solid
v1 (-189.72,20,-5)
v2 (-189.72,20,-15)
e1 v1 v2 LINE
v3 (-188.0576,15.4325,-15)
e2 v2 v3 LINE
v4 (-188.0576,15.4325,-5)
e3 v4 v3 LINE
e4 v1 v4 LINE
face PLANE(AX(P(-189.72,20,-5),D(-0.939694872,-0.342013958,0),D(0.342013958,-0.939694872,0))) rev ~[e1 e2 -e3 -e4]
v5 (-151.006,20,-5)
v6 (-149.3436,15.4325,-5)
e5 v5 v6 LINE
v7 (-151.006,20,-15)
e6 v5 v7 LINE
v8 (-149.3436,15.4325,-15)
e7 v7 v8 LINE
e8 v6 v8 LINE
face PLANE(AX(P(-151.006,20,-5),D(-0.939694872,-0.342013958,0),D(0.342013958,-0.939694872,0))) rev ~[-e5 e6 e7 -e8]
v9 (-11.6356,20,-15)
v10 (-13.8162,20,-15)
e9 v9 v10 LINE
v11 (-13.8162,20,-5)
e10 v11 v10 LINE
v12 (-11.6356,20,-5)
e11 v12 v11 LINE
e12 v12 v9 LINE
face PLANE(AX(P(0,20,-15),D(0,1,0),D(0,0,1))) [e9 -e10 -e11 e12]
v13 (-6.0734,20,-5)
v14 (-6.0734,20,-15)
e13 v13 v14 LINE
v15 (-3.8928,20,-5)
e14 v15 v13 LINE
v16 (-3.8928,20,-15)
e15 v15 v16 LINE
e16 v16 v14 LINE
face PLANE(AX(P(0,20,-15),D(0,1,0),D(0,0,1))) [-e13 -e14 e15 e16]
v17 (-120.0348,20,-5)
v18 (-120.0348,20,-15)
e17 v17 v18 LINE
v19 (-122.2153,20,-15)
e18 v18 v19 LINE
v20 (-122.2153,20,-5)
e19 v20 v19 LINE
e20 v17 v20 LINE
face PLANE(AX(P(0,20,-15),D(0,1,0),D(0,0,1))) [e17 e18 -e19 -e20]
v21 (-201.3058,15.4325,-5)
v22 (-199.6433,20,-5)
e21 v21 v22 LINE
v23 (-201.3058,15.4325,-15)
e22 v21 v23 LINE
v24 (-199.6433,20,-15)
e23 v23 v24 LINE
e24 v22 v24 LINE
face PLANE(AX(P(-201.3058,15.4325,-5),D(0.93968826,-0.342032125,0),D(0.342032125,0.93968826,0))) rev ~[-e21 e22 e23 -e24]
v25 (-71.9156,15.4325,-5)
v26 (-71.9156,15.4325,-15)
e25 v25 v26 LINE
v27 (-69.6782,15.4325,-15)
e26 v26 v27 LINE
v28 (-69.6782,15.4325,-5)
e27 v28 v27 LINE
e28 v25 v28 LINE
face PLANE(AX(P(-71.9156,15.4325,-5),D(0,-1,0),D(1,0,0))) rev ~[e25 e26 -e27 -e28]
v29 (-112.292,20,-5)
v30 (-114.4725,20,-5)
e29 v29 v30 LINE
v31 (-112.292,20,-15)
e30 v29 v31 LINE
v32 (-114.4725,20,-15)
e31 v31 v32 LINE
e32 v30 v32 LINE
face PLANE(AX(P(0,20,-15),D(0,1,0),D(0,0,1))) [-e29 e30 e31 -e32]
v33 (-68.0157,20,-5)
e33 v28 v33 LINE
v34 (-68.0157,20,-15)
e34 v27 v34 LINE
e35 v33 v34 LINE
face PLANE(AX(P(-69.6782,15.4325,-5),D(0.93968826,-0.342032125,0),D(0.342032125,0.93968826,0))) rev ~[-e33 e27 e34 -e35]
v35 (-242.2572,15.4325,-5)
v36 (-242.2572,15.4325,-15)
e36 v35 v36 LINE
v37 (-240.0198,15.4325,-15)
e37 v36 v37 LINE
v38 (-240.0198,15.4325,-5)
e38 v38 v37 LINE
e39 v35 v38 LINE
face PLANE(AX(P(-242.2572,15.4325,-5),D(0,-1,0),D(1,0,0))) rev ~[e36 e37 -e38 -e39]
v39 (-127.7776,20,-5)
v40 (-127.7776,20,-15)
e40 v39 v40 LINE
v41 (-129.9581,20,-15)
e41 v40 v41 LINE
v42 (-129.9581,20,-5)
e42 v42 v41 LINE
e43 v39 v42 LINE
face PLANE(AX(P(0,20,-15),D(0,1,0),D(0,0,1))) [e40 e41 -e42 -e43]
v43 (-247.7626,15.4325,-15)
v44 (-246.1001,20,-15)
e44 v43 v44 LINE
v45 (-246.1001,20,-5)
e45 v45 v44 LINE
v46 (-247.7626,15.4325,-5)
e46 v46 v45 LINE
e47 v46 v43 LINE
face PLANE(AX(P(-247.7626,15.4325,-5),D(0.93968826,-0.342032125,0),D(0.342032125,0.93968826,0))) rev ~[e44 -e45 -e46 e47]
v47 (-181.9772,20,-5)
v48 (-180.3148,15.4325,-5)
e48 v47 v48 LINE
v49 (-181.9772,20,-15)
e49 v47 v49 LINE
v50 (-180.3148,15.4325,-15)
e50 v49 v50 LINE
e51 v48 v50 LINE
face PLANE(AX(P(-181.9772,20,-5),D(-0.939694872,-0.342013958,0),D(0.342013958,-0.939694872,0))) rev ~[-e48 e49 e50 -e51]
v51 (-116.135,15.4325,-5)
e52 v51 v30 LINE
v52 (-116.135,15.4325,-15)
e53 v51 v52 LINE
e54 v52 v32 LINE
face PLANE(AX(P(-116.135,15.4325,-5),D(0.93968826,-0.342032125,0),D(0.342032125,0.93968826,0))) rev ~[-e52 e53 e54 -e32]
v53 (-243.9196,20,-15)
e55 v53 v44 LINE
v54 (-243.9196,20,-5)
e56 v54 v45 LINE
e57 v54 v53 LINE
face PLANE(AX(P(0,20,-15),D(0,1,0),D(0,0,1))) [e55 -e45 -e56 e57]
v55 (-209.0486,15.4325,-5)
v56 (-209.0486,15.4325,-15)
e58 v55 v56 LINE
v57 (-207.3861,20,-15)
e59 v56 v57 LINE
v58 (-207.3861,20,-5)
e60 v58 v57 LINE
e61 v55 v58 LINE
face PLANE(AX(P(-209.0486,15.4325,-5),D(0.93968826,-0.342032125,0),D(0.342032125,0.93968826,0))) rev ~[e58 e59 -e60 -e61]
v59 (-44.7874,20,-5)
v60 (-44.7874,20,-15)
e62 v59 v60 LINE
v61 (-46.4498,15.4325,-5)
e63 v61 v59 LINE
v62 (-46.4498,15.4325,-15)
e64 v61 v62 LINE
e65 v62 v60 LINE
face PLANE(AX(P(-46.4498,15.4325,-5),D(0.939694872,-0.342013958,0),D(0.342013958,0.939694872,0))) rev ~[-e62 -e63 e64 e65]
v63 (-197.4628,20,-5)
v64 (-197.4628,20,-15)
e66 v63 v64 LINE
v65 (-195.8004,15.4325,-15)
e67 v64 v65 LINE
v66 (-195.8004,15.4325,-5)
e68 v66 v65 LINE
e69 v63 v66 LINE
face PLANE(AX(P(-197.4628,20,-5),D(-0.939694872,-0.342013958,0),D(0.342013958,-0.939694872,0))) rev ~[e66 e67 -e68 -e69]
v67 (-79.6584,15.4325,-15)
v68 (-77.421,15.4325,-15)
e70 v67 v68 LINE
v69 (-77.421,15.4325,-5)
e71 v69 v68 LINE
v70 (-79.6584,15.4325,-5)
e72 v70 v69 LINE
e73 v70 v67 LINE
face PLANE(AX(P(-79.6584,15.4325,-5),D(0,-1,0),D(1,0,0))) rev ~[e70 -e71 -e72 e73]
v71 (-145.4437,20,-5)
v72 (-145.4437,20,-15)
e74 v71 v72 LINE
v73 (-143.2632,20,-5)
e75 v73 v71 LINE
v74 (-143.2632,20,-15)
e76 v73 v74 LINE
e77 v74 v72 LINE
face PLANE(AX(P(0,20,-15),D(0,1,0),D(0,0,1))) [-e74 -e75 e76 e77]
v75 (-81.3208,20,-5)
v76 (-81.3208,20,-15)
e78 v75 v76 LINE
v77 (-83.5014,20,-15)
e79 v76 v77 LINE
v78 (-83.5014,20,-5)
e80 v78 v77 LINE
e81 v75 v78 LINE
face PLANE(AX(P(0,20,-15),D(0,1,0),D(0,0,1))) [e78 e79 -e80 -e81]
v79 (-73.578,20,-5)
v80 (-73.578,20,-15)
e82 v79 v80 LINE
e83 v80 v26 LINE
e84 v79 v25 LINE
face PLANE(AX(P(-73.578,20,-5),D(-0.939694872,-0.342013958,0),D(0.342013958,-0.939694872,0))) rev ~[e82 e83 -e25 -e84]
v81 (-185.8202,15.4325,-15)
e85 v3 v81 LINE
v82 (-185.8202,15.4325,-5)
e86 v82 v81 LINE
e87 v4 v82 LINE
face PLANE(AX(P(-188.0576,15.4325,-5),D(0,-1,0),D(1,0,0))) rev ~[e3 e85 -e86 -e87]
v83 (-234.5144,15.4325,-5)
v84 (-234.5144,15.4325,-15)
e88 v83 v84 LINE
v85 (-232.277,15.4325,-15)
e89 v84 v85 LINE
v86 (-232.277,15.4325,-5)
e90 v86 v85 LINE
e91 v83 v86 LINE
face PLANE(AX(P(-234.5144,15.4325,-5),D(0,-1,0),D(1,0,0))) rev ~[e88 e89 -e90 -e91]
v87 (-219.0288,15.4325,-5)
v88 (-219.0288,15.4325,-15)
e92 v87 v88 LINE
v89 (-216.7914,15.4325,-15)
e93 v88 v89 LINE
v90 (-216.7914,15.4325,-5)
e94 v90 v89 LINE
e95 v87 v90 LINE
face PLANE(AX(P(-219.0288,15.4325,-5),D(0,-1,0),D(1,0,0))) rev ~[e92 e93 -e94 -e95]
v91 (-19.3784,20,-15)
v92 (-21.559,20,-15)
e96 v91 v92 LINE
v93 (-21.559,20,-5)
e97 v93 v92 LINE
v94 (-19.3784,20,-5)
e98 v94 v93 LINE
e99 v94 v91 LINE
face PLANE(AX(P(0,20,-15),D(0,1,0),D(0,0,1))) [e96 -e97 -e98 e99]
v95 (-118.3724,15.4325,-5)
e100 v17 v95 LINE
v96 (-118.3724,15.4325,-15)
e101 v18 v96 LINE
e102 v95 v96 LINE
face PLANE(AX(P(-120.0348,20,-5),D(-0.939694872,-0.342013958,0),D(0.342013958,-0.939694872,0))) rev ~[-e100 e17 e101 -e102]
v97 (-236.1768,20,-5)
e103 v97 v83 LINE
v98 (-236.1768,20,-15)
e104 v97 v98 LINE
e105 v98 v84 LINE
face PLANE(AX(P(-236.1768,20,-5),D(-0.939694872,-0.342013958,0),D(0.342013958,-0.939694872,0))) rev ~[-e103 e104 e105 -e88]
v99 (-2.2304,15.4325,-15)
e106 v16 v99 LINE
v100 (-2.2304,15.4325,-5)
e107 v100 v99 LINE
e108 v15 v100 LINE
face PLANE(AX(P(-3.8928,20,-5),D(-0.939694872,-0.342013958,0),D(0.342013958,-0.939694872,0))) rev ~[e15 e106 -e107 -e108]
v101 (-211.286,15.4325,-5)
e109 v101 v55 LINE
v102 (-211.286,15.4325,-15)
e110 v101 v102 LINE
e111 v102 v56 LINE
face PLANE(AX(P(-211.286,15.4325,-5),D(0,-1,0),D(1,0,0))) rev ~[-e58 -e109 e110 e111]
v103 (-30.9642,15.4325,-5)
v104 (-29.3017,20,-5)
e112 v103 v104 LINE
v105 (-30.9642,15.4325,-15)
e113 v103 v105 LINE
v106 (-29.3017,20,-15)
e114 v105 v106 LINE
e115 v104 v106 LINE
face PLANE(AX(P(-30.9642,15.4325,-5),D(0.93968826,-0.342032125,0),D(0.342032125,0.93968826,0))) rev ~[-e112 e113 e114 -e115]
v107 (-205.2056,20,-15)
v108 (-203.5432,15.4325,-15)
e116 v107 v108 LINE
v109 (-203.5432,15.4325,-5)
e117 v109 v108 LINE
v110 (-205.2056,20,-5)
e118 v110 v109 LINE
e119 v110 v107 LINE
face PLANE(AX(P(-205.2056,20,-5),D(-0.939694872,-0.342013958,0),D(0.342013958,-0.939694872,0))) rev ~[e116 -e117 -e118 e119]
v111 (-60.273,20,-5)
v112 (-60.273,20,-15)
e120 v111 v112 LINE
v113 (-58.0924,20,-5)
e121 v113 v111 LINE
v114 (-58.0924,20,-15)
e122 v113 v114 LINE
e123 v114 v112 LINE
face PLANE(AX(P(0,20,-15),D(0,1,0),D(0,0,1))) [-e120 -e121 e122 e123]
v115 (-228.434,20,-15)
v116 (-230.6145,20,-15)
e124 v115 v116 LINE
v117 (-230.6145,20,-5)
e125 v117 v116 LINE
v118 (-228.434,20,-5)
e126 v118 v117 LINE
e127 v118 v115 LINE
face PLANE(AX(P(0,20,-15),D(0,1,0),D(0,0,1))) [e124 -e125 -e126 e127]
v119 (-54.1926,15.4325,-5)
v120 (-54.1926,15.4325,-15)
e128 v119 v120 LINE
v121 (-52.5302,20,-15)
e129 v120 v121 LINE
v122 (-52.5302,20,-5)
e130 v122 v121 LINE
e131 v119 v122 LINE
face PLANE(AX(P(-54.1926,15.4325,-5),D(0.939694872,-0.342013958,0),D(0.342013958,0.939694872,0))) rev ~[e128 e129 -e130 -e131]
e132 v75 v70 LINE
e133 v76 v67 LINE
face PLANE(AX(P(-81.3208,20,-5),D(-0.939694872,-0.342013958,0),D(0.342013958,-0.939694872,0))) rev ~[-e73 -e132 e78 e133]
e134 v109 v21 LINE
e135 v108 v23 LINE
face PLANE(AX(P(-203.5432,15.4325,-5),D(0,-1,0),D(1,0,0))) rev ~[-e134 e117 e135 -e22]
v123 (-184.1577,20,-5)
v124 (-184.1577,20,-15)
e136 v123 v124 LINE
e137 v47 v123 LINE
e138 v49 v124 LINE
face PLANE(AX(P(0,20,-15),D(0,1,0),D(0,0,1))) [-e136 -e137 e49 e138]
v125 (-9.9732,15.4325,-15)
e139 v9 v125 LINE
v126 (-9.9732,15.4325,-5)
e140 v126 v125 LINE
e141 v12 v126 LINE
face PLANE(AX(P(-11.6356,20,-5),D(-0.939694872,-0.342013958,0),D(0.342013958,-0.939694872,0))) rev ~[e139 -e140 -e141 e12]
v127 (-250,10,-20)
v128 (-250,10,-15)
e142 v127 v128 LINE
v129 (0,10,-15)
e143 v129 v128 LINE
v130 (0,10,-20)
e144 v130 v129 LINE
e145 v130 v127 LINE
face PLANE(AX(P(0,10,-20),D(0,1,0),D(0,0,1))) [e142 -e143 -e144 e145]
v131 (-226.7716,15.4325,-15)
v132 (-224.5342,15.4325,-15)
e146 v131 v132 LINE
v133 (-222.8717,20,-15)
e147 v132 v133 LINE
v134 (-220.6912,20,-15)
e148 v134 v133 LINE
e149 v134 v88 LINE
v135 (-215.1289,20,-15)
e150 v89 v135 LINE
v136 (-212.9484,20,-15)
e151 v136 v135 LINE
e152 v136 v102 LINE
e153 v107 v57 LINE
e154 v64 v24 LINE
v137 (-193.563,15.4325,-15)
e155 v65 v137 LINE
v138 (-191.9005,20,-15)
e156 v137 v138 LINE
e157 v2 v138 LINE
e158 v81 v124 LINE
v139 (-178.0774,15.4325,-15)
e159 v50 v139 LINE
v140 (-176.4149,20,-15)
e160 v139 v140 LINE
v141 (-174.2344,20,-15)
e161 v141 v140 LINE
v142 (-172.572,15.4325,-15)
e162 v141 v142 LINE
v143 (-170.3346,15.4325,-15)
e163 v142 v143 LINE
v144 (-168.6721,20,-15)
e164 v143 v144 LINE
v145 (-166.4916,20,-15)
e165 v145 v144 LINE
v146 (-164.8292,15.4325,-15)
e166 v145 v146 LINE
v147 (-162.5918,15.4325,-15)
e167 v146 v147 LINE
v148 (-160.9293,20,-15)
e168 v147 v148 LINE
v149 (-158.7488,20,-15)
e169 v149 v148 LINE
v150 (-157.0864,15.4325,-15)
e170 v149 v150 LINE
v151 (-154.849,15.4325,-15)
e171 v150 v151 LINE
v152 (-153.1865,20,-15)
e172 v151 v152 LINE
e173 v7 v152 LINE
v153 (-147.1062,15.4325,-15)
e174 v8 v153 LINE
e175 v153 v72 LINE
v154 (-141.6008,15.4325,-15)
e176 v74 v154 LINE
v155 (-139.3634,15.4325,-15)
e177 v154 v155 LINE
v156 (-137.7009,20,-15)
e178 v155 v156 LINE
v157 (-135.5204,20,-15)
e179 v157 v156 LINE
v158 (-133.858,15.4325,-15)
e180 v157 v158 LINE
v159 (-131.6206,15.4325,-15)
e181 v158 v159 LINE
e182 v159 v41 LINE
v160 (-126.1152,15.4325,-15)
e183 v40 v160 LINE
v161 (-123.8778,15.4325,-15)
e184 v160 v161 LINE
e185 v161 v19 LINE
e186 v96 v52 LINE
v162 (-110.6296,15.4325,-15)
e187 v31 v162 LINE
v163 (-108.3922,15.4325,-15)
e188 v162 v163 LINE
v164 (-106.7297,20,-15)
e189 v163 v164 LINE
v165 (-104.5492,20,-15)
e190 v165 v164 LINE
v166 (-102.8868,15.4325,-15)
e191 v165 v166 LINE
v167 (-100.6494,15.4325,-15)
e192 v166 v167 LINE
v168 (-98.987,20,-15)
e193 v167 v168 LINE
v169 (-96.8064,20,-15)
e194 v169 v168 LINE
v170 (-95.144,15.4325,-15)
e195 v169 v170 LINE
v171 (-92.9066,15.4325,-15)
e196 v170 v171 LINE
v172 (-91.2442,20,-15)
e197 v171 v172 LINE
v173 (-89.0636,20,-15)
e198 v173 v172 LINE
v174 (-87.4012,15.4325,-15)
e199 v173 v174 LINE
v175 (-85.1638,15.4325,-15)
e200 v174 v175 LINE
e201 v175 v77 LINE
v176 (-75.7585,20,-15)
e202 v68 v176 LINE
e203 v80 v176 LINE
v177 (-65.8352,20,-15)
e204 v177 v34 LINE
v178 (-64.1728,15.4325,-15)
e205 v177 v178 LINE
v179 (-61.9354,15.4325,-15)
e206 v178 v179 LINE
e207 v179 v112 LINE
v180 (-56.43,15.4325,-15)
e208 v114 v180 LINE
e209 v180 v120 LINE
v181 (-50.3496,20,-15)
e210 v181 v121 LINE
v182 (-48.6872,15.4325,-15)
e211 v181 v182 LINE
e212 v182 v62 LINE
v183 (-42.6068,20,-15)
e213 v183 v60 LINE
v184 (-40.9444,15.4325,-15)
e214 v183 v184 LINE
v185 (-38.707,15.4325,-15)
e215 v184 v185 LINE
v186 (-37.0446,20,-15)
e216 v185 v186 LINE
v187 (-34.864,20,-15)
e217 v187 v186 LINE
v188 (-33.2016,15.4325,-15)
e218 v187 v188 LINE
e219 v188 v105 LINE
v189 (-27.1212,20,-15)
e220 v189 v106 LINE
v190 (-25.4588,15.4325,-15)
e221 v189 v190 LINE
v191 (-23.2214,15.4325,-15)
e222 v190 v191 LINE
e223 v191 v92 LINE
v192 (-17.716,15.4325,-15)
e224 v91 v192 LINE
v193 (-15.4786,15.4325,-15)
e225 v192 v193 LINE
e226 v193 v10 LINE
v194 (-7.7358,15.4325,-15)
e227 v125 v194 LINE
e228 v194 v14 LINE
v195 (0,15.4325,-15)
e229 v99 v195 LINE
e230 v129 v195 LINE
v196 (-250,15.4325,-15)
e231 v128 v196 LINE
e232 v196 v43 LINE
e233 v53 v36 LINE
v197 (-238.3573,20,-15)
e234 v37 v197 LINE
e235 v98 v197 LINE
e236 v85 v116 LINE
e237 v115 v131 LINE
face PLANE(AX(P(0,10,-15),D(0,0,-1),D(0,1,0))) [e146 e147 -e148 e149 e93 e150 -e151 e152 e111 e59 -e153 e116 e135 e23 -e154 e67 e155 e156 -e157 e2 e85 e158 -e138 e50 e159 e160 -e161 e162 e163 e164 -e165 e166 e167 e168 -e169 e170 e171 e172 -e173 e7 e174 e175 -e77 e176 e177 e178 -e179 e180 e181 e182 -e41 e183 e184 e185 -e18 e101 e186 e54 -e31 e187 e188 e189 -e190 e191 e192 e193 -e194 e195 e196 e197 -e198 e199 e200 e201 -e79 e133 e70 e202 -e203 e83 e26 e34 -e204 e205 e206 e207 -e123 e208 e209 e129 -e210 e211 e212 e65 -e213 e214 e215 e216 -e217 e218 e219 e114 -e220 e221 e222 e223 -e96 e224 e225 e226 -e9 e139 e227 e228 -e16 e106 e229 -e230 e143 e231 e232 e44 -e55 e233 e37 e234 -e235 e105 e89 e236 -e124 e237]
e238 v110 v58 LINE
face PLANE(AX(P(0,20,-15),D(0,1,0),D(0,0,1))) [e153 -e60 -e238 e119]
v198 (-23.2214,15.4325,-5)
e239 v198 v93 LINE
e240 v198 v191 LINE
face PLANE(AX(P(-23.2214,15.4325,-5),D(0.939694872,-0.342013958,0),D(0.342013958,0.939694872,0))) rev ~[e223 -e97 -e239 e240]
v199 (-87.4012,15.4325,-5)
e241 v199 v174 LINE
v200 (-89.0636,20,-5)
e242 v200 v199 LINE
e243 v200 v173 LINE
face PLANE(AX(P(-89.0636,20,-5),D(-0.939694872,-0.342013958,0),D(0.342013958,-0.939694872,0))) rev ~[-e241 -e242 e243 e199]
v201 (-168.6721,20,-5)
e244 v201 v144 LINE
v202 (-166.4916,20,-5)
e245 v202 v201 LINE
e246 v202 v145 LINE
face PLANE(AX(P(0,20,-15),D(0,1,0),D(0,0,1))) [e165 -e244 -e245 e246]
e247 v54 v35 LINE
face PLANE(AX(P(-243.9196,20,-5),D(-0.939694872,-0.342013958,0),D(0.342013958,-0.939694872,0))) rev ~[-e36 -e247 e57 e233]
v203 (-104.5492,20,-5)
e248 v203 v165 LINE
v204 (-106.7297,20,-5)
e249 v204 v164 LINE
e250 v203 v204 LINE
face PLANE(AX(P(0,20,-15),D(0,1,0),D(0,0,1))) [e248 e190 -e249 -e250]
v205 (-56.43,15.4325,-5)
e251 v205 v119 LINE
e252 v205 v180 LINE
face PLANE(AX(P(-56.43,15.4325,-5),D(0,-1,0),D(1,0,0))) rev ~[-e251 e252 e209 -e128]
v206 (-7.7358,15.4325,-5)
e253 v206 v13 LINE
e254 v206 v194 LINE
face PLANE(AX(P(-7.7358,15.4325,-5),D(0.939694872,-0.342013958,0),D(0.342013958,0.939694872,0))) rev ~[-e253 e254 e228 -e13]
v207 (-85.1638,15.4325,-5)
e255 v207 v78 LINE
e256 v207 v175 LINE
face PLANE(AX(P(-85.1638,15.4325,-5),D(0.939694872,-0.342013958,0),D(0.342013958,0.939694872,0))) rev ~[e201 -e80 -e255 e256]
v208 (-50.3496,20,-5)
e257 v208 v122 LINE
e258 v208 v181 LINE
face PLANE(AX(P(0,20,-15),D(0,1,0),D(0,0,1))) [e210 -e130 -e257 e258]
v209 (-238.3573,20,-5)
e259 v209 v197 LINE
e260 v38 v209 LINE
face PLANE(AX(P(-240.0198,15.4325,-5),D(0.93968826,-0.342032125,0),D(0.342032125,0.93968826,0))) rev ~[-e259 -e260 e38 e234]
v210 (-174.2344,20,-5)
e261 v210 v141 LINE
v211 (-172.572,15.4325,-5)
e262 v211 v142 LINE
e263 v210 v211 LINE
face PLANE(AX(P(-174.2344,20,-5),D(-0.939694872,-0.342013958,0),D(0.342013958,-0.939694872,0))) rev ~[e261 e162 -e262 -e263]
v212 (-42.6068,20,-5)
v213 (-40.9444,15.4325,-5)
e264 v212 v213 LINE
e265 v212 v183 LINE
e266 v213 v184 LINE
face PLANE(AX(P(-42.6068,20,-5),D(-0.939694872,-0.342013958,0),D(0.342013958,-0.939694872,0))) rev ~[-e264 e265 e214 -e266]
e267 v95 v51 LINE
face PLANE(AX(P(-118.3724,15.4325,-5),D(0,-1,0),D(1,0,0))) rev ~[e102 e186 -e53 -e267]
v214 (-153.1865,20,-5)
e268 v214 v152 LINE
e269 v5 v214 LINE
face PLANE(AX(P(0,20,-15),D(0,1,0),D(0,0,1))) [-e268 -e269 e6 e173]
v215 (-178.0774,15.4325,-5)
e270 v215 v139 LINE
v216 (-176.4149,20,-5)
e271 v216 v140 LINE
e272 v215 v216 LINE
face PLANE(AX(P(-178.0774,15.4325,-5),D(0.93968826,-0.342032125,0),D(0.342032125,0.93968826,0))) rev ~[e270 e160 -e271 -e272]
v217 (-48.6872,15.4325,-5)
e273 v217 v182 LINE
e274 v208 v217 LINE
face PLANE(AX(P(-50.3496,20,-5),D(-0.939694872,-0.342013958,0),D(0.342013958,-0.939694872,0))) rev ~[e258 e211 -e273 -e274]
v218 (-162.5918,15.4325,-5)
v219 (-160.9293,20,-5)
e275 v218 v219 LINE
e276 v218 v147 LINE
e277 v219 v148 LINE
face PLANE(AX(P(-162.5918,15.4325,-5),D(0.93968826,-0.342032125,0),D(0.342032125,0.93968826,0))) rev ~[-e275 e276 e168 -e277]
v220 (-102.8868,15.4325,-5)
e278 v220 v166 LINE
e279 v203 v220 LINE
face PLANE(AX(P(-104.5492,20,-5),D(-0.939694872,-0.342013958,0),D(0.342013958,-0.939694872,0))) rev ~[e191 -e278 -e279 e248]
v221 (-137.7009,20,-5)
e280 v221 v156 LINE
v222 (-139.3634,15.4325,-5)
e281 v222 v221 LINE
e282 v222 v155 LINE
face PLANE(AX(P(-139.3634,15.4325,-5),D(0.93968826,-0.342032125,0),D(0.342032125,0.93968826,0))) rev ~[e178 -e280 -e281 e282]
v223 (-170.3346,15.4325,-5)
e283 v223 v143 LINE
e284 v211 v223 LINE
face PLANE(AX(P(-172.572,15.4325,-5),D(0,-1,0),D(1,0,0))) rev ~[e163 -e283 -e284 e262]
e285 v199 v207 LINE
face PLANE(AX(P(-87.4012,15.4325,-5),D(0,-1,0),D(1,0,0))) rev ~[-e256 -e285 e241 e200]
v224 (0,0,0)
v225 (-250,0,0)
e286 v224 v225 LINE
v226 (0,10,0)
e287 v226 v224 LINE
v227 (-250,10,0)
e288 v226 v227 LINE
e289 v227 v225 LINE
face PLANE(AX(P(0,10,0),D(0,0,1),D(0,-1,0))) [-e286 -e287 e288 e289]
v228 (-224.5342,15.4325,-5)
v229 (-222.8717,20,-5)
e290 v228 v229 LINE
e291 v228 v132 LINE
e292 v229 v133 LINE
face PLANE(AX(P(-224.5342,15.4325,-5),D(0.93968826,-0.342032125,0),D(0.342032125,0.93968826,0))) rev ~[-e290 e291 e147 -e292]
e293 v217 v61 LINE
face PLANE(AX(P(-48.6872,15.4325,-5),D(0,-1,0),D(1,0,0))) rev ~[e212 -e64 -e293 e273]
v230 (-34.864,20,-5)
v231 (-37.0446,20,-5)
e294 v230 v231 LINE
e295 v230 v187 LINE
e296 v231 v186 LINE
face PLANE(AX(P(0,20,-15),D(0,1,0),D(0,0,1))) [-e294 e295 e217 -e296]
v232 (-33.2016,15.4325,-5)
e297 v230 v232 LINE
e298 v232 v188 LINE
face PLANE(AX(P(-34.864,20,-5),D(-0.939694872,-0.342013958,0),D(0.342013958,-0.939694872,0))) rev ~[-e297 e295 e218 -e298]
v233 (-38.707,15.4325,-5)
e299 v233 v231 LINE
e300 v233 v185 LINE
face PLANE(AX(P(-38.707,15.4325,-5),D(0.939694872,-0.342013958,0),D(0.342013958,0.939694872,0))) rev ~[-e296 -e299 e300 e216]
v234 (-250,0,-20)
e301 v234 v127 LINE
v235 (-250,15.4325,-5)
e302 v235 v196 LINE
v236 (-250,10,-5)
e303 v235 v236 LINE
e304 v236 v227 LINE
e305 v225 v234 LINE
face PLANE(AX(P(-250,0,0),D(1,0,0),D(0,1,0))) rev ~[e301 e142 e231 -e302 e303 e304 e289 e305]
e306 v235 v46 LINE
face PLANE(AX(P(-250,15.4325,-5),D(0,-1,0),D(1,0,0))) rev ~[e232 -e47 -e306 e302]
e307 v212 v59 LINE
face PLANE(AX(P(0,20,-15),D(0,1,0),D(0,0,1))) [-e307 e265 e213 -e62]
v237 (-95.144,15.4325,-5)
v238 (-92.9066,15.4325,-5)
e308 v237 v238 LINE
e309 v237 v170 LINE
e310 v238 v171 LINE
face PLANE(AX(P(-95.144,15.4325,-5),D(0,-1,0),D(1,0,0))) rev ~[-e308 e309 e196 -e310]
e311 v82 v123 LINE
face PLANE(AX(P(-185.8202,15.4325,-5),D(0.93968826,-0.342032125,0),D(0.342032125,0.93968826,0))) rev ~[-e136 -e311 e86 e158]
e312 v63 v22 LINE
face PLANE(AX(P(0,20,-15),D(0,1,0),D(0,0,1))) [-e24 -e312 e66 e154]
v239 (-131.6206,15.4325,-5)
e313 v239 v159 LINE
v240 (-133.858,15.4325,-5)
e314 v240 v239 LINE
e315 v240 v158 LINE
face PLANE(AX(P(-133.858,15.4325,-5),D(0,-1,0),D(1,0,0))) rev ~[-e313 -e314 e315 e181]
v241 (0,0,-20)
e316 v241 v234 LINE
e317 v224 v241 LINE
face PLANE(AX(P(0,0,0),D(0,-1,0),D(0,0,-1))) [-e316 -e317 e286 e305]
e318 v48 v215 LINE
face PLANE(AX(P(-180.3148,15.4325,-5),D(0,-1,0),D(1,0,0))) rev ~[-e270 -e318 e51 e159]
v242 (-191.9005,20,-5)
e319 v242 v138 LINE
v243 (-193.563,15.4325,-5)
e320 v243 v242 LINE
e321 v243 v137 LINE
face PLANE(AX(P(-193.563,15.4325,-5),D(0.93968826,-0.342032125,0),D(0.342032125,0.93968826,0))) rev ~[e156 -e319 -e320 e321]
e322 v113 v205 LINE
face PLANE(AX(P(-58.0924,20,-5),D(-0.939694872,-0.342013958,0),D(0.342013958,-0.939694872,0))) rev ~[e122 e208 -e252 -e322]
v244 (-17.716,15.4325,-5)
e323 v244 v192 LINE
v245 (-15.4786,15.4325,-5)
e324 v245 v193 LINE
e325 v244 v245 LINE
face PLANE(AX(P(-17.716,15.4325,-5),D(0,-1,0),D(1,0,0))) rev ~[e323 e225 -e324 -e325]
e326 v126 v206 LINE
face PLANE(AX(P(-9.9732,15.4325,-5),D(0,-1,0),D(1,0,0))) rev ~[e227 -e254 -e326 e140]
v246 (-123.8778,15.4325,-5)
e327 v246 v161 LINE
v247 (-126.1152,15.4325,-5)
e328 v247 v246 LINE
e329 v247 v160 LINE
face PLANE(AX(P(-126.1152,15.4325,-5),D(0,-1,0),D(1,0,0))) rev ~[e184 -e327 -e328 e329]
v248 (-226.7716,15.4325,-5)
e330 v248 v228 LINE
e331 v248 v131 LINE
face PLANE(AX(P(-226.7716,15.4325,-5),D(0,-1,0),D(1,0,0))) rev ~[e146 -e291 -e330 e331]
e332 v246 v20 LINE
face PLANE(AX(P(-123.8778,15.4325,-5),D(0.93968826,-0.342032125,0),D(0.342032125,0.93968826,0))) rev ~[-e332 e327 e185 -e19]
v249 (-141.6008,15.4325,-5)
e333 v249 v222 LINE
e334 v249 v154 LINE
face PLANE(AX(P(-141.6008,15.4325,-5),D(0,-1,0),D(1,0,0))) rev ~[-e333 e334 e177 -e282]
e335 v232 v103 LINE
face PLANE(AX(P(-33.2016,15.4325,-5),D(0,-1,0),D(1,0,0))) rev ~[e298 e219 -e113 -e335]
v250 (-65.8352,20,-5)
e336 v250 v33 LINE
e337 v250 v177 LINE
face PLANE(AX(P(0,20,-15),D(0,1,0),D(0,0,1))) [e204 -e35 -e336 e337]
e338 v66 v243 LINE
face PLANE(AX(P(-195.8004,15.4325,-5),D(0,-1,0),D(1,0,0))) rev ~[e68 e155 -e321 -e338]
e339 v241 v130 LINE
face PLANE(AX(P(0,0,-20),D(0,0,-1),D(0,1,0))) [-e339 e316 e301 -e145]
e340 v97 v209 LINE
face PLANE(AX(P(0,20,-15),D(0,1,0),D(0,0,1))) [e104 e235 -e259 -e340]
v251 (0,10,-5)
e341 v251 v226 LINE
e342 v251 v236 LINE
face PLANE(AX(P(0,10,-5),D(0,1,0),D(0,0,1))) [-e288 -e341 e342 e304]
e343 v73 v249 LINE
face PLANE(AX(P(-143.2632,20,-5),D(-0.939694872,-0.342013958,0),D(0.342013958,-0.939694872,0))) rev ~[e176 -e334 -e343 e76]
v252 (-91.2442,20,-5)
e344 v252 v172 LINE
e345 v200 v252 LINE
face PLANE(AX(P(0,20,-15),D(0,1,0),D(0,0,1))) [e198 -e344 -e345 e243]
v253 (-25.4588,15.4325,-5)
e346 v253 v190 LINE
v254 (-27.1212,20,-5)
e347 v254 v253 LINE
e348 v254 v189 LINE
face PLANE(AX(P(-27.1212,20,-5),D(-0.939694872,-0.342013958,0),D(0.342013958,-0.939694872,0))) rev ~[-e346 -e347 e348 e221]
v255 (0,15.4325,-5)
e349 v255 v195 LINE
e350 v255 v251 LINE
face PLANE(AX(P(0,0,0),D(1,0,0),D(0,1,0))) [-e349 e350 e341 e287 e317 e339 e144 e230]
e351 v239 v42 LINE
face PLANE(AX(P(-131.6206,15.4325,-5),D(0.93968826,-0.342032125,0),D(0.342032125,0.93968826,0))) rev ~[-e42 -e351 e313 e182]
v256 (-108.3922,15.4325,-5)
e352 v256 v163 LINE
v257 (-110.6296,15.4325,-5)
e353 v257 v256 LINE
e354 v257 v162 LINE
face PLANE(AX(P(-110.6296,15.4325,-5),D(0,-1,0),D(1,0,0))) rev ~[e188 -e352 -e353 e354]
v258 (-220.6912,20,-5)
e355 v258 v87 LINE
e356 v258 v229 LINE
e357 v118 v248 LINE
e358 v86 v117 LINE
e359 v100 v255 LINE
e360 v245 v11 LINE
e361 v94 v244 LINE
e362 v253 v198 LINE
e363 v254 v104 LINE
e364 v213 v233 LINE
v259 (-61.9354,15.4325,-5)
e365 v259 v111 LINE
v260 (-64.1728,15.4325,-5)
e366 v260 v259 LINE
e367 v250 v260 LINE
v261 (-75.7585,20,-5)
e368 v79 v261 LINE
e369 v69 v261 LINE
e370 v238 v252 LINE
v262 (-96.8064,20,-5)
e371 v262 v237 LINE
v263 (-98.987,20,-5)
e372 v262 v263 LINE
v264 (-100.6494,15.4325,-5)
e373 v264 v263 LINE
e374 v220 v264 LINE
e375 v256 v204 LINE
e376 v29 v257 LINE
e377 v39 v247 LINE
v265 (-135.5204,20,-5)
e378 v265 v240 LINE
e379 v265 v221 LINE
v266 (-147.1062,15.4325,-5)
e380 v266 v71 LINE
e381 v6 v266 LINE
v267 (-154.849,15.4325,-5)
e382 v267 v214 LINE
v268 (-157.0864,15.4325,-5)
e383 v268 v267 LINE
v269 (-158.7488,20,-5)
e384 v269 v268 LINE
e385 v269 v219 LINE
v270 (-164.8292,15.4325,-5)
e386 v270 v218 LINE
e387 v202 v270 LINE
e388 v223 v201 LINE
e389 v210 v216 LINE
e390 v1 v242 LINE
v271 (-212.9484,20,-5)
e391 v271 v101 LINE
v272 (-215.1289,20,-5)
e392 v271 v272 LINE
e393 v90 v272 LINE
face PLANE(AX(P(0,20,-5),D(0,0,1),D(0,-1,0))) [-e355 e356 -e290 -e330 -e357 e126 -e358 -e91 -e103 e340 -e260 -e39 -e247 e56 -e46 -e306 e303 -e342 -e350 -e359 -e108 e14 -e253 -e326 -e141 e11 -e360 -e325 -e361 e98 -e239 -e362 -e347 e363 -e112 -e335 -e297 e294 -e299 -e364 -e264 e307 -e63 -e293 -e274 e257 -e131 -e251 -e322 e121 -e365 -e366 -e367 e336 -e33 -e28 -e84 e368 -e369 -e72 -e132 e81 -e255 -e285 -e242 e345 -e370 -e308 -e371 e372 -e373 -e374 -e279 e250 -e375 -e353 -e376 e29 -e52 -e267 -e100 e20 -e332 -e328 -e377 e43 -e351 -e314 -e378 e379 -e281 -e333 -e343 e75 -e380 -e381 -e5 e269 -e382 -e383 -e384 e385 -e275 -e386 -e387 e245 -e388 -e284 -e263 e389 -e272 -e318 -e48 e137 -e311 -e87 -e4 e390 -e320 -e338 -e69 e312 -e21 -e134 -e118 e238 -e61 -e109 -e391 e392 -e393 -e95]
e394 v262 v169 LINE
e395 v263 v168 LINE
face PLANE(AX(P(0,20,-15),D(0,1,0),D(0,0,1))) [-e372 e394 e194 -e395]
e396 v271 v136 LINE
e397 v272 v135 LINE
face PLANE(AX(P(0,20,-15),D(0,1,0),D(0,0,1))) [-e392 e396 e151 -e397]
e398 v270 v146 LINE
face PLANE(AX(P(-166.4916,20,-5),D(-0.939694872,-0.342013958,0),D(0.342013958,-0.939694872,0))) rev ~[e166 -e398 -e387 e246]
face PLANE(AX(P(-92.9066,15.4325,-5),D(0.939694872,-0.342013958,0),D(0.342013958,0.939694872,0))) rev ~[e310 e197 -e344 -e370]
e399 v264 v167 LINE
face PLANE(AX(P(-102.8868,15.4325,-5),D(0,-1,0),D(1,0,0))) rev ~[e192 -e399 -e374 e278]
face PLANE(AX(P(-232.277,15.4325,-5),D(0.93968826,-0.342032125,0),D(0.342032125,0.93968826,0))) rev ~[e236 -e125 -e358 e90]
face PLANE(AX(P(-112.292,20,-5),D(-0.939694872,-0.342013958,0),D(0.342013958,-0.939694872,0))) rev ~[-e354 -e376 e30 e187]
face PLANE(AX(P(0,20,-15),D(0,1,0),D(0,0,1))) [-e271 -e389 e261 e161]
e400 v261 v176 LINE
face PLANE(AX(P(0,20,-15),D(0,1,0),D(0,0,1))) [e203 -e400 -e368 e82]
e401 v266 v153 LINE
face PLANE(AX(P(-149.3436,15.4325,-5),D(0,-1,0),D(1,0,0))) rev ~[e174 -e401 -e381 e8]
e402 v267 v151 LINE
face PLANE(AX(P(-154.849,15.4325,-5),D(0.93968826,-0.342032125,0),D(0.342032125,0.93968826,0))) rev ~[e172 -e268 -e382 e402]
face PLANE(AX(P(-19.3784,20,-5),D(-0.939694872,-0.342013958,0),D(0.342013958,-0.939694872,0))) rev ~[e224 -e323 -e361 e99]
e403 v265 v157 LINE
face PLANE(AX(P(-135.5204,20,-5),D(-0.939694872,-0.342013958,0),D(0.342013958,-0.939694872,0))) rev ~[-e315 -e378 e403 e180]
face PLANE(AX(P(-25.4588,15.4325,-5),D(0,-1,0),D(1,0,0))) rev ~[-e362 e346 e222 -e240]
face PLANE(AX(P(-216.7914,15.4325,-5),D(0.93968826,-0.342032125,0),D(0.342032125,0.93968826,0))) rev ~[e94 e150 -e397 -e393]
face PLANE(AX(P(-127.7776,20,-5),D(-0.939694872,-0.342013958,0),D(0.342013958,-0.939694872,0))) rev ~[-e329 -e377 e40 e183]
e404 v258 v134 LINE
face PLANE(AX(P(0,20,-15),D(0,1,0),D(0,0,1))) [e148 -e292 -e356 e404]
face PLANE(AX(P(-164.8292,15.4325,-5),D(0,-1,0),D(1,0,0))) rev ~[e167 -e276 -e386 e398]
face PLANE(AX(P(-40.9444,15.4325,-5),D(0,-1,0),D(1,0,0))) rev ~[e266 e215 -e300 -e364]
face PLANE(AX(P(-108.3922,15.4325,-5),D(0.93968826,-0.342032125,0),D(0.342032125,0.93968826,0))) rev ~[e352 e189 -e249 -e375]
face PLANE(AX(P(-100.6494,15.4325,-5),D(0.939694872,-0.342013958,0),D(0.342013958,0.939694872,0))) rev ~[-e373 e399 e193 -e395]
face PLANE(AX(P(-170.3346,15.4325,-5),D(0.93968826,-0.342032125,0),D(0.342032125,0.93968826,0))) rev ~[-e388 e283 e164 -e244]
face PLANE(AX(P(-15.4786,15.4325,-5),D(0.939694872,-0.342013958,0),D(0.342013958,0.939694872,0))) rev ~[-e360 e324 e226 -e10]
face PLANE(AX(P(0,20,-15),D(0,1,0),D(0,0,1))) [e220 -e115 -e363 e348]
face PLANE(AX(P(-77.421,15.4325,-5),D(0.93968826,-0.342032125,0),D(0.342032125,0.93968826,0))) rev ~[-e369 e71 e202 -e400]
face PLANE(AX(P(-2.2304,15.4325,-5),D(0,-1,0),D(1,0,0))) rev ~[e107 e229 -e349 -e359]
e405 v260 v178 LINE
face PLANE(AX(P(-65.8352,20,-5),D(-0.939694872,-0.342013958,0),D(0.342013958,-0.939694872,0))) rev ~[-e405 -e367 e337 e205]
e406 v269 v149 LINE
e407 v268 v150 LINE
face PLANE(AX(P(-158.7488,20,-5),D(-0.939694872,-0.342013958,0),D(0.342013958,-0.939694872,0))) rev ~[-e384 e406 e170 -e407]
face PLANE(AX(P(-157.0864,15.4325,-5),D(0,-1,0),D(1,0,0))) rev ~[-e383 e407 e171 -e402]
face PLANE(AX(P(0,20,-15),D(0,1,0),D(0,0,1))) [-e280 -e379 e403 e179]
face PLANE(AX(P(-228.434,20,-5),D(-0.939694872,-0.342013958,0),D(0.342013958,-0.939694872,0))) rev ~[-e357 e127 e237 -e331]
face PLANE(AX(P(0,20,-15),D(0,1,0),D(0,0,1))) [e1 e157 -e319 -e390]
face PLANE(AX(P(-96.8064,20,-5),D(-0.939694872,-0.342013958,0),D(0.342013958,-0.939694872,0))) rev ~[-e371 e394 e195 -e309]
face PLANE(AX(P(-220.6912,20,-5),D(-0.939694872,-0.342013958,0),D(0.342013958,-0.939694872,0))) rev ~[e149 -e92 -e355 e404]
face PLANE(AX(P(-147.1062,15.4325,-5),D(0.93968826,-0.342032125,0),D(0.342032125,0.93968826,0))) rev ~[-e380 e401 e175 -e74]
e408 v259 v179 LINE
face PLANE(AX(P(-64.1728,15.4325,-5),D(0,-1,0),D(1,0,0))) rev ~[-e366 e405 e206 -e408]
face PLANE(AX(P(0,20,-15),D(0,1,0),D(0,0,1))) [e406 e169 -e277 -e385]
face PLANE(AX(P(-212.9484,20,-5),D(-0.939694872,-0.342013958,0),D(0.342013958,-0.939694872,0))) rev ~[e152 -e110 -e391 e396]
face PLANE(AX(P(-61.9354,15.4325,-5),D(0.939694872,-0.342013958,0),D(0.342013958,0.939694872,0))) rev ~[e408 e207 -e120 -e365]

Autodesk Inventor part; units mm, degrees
ref_plane "YZ Plane" through (0, 0, 0) normal (1, 0, 0) x (0, 1, 0)
ref_plane "XZ Plane" through (0, 0, 0) normal (0, 1, 0) x (-1, 0, 0)
ref_plane "XY Plane" through (0, 0, 0) normal (0, 0, 1) x (1, 0, 0)
sketch "Boceto1" plane through (0, 0, 0) normal (1, 0, 0) x (0, 1, 0)
  point P0 (0, 0)
extrude "Extrusión1" [suppressed]
sketch "Boceto2" plane through (0, 0, 0) normal (0, 0, 1) x (1, 0, 0)
  point P0 (0, 0)
sketch "Boceto3" plane through (0, 10, -5) normal (0, 0, 1) x (1, 0, 0)
  line L0 (227.2104, 2.6715) -> (229.8777, 10)
  line L1 (233.3764, 10) -> (236.0437, 2.6715)
  line L2 (214.787, 2.6715) -> (217.4544, 10)
  line L3 (220.953, 10) -> (223.6204, 2.6715)
  line L4 (202.3637, 2.6715) -> (205.031, 10)
  line L5 (208.5297, 10) -> (211.197, 2.6715)
  line L6 (189.9403, 2.6715) -> (192.6077, 10)
  line L7 (196.1063, 10) -> (198.7737, 2.6715)
  line L8 (177.517, 2.6715) -> (180.1843, 10)
  line L9 (183.683, 10) -> (186.3503, 2.6715)
  line L10 (165.0936, 2.6715) -> (167.761, 10)
  line L11 (171.2596, 10) -> (173.927, 2.6715)
  line L12 (152.6702, 2.6715) -> (155.3376, 10)
  line L13 (158.8362, 10) -> (161.5036, 2.6715)
  line L14 (140.2469, 2.6715) -> (142.9143, 10)
  line L15 (146.4129, 10) -> (149.0803, 2.6715)
  line L16 (127.8235, 2.6715) -> (130.4909, 10)
  line L17 (133.9895, 10) -> (136.6569, 2.6715)
  line L18 (115.4002, 2.6715) -> (118.0675, 10)
  line L19 (121.5662, 10) -> (124.2335, 2.6715)
  line L20 (102.9768, 2.6715) -> (105.6442, 10)
  line L21 (109.1428, 10) -> (111.8102, 2.6715)
  line L22 (90.5535, 2.6715) -> (93.2208, 10)
  line L23 (96.7195, 10) -> (99.3868, 2.6715)
  line L24 (78.1301, 2.6715) -> (80.7975, 10)
  line L25 (84.2961, 10) -> (86.9635, 2.6715)
  line L26 (65.7067, 2.6715) -> (68.3741, 10)
  line L27 (71.8728, 10) -> (74.5401, 2.6715)
  line L28 (53.2834, 2.6715) -> (55.9508, 10)
  line L29 (59.4494, 10) -> (62.1168, 2.6715)
  line L30 (40.86, 2.6715) -> (43.5274, 10)
  line L31 (47.0261, 10) -> (49.6934, 2.6715)
  line L32 (28.4367, 2.6715) -> (31.104, 10)
  line L33 (34.6027, 10) -> (37.2701, 2.6715)
  line L34 (16.0133, 2.6715) -> (18.6807, 10)
  line L35 (22.1793, 10) -> (24.8467, 2.6715)
  line L36 (3.59, 2.6715) -> (6.2573, 10)
  line L37 (9.756, 10) -> (12.4234, 2.6715)
  line L38 (239.6337, 2.6715) -> (242.3011, 10)
  line L39 (245.7997, 10) -> (248.4671, 2.6715)
  line L40 (248.4671, 2.6715) -> (250, 2.6715)
  line L41 (0, 0) -> (250, 0) projected
  line L42 (3.59, 2.6715) -> (0, 2.6715)
  line L43 (0, 0) -> (0, 10) projected
  line L44 (0, 2.6715) -> (0, 10)
  line L45 (0, 10) -> (6.2573, 10)
  line L46 (9.756, 10) -> (18.6807, 10)
  line L47 (12.4234, 2.6715) -> (16.0133, 2.6715)
  line L48 (236.0437, 2.6715) -> (239.6337, 2.6715)
  line L49 (223.6204, 2.6715) -> (227.2104, 2.6715)
  line L50 (211.197, 2.6715) -> (214.787, 2.6715)
  line L51 (198.7737, 2.6715) -> (202.3637, 2.6715)
  line L52 (186.3503, 2.6715) -> (189.9403, 2.6715)
  line L53 (173.927, 2.6715) -> (177.517, 2.6715)
  line L54 (161.5036, 2.6715) -> (165.0936, 2.6715)
  line L55 (149.0803, 2.6715) -> (152.6702, 2.6715)
  line L56 (136.6569, 2.6715) -> (140.2469, 2.6715)
  line L57 (124.2335, 2.6715) -> (127.8235, 2.6715)
  line L58 (111.8102, 2.6715) -> (115.4002, 2.6715)
  line L59 (99.3868, 2.6715) -> (102.9768, 2.6715)
  line L60 (86.9635, 2.6715) -> (90.5535, 2.6715)
  line L61 (74.5401, 2.6715) -> (78.1301, 2.6715)
  line L62 (62.1168, 2.6715) -> (65.7067, 2.6715)
  line L63 (49.6934, 2.6715) -> (53.2834, 2.6715)
  line L64 (24.8467, 2.6715) -> (28.4367, 2.6715)
  line L65 (37.2701, 2.6715) -> (40.86, 2.6715)
  line L66 (245.7997, 10) -> (250, 10)
  line L67 (233.3764, 10) -> (242.3011, 10)
  line L68 (220.953, 10) -> (229.8777, 10)
  line L69 (208.5297, 10) -> (217.4544, 10)
  line L70 (196.1063, 10) -> (205.031, 10)
  line L71 (183.683, 10) -> (192.6077, 10)
  line L72 (171.2596, 10) -> (180.1843, 10)
  line L73 (158.8362, 10) -> (167.761, 10)
  line L74 (146.4129, 10) -> (155.3376, 10)
  line L75 (133.9895, 10) -> (142.9143, 10)
  line L76 (121.5662, 10) -> (130.4909, 10)
  line L77 (109.1428, 10) -> (118.0675, 10)
  line L78 (96.7195, 10) -> (105.6442, 10)
  line L79 (84.2961, 10) -> (93.2208, 10)
  line L80 (59.4494, 10) -> (68.3741, 10)
  line L81 (71.8728, 10) -> (80.7975, 10)
  line L82 (47.0261, 10) -> (55.9508, 10)
  line L83 (34.6027, 10) -> (43.5274, 10)
  line L84 (22.1793, 10) -> (31.104, 10)
  line L85 (0, 10) -> (6.2573, 10)
  line L86 (9.756, 10) -> (18.6807, 10)
  line L87 (250, 10) -> (250, 2.6715)
  line L88 (250, 0) -> (250, 10) projected
  point P0 (0, -10)
extrude "Extrusión2" [suppressed]
sketch "Boceto4" plane through (0, 0, 0) normal (1, 0, 0) x (0, 1, 0)
  point P0 (0, 0)
extrude "Extrusión3" [suppressed]
sketch "Boceto5" plane through (0, 10, -5) normal (0, 0, 1) x (1, 0, 0)
  line L0 (-2.2374, 0.8668) -> (0, 0.865)
  line L1 (-17.723, 0.8787) -> (-13.2482, 0.8752)
  line L2 (-13.2482, 0.8752) -> (-9.9163, 10.0076)
  line L3 (-5.5553, 10.0043) -> (-2.2374, 0.8668)
  line L4 (-33.2086, 0.8905) -> (-28.7337, 0.8871)
  line L5 (-28.7337, 0.8871) -> (-25.4019, 10.0195)
  line L6 (-21.0409, 10.0162) -> (-17.723, 0.8787)
  line L7 (-48.6942, 0.9024) -> (-44.2194, 0.899)
  line L8 (-44.2194, 0.899) -> (-40.8875, 10.0314)
  line L9 (-36.5265, 10.028) -> (-33.2086, 0.8905)
  line L10 (-64.1798, 0.9143) -> (-59.7049, 0.9109)
  line L11 (-59.7049, 0.9109) -> (-56.3731, 10.0433)
  line L12 (-52.0121, 10.0399) -> (-48.6942, 0.9024)
  line L13 (-79.6654, 0.9262) -> (-75.1905, 0.9228)
  line L14 (-75.1905, 0.9228) -> (-71.8587, 10.0552)
  line L15 (-67.4976, 10.0518) -> (-64.1798, 0.9143)
  line L16 (-95.151, 0.9381) -> (-90.6761, 0.9347)
  line L17 (-90.6761, 0.9347) -> (-87.3443, 10.0671)
  line L18 (-82.9832, 10.0637) -> (-79.6654, 0.9262)
  line L19 (-110.6366, 0.95) -> (-106.1617, 0.9466)
  line L20 (-106.1617, 0.9466) -> (-102.8298, 10.0789)
  line L21 (-98.4688, 10.0756) -> (-95.151, 0.9381)
  line L22 (-121.6473, 0.9584) -> (-118.3155, 10.0908)
  line L23 (-113.9544, 10.0875) -> (-110.6366, 0.95)
  line L24 (-141.6008, 0.8651) -> (-137.1259, 0.8651)
  line L25 (-137.1259, 0.8651) -> (-133.8011, 10)
  line L26 (-129.4401, 10) -> (-126.1152, 0.8651)
  line L27 (-157.0864, 0.8651) -> (-152.6115, 0.8651)
  line L28 (-152.6115, 0.8651) -> (-149.2867, 10)
  line L29 (-144.9257, 10) -> (-141.6008, 0.8651)
  line L30 (-172.572, 0.8651) -> (-168.0971, 0.8651)
  line L31 (-168.0971, 0.8651) -> (-164.7723, 10)
  line L32 (-160.4113, 10) -> (-157.0864, 0.8651)
  line L33 (-188.0576, 0.8651) -> (-183.5827, 0.8651)
  line L34 (-183.5827, 0.8651) -> (-180.2579, 10)
  line L35 (-175.8969, 10) -> (-172.572, 0.8651)
  line L36 (-203.5432, 0.8651) -> (-199.0683, 0.8651)
  line L37 (-199.0683, 0.8651) -> (-195.7435, 10)
  line L38 (-191.3825, 10) -> (-188.0576, 0.8651)
  line L39 (-219.0288, 0.8651) -> (-214.5539, 0.8651)
  line L40 (-214.5539, 0.8651) -> (-211.2291, 10)
  line L41 (-206.868, 10) -> (-203.5432, 0.8651)
  line L42 (-234.5144, 0.8651) -> (-230.0395, 0.8651)
  line L43 (-230.0395, 0.8651) -> (-226.7147, 10)
  line L44 (-222.3537, 10) -> (-219.0288, 0.8651)
  line L45 (-250, 0.8651) -> (-245.5251, 0.8651)
  line L46 (-245.5251, 0.8651) -> (-242.2003, 10)
  line L47 (-237.8393, 10) -> (-234.5144, 0.8651)
  line L48 (0, 10) -> (-250, 10) projected
  line L49 (0, 0.865) -> (0, 10)
  line L50 (-250, 10) -> (-250, 0) projected
  line L51 (0, 10) -> (-5.5537, 10)
  line L52 (-9.9191, 10) -> (-21.035, 10)
  line L53 (-25.409, 10) -> (-36.5163, 10)
  line L54 (-40.8989, 10) -> (-51.9976, 10)
  line L55 (-56.3889, 10) -> (-67.4788, 10)
  line L56 (-71.8788, 10) -> (-82.9601, 10)
  line L57 (-87.3687, 10) -> (-98.4414, 10)
  line L58 (-102.8587, 10) -> (-113.9227, 10)
  line L59 (-118.3486, 10) -> (-129.4401, 10)
  line L60 (-133.8011, 10) -> (-144.9257, 10)
  line L61 (-149.2867, 10) -> (-160.4113, 10)
  line L62 (-164.7723, 10) -> (-175.8969, 10)
  line L63 (-180.2579, 10) -> (-191.3825, 10)
  line L64 (-195.7435, 10) -> (-206.868, 10)
  line L65 (-211.2291, 10) -> (-222.3537, 10)
  line L66 (-226.7147, 10) -> (-237.8393, 10)
  line L67 (-242.2003, 10) -> (-250, 10)
  line L68 (-250, 10) -> (-250, 0.8651)
  line L69 (-126.1152, 0.9584) -> (-121.6473, 0.9584)
  line L70 (-126.1265, 0.95) -> (-121.6516, 0.9466)
  line L71 (-121.6516, 0.9466) -> (-118.3198, 10.0789)
  line L72 (-129.4444, 10.0875) -> (-126.1265, 0.95)
  line L73 (-118.3486, 10) -> (-129.4126, 10)
  point P0 (0, -10)
extrude "Extrusión4" [suppressed]
sketch "Boceto6" plane through (-250, 10, -5) normal (0, 0, 1) x (1, 0, 0)
  point P0 (250, -10)
sketch "Boceto7" plane through (0, 0, 0) normal (1, 0, 0) x (0, 1, 0)
  line L0 (0, 0) -> (0, -20)
  line L1 (0, -20) -> (10, -20)
  line L2 (10, -20) -> (10, -15)
  line L3 (10, -15) -> (20, -15)
  line L4 (20, -15) -> (20, -5)
  line L5 (20, -5) -> (10, -5)
  line L6 (10, -5) -> (10, 0)
  line L7 (10, 0) -> (0, 0)
extrude "Extrusión5" add sketch "Boceto7" against normal blind 250
sketch "Boceto8" plane through (0, 10, -5) normal (0, 0, 1) x (1, 0, 0)
  line L0 (-110.6296, 5.4325) -> (-108.3922, 5.4325)
  line L1 (-108.3922, 5.4325) -> (-106.7297, 10)
  line L2 (-104.5492, 10) -> (-102.8868, 5.4325)
  line L3 (-118.3724, 5.4325) -> (-116.135, 5.4325)
  line L4 (-116.135, 5.4325) -> (-114.4725, 10)
  line L5 (-112.292, 10) -> (-110.6296, 5.4325)
  line L6 (-126.1152, 5.4325) -> (-123.8778, 5.4325)
  line L7 (-123.8778, 5.4325) -> (-122.2153, 10)
  line L8 (-120.0348, 10) -> (-118.3724, 5.4325)
  line L9 (-133.858, 5.4325) -> (-131.6206, 5.4325)
  line L10 (-131.6206, 5.4325) -> (-129.9581, 10)
  line L11 (-127.7776, 10) -> (-126.1152, 5.4325)
  line L12 (-141.6008, 5.4325) -> (-139.3634, 5.4325)
  line L13 (-139.3634, 5.4325) -> (-137.7009, 10)
  line L14 (-135.5204, 10) -> (-133.858, 5.4325)
  line L15 (-149.3436, 5.4325) -> (-147.1062, 5.4325)
  line L16 (-147.1062, 5.4325) -> (-145.4437, 10)
  line L17 (-143.2632, 10) -> (-141.6008, 5.4325)
  line L18 (-157.0864, 5.4325) -> (-154.849, 5.4325)
  line L19 (-154.849, 5.4325) -> (-153.1865, 10)
  line L20 (-151.006, 10) -> (-149.3436, 5.4325)
  line L21 (-164.8292, 5.4325) -> (-162.5918, 5.4325)
  line L22 (-162.5918, 5.4325) -> (-160.9293, 10)
  line L23 (-158.7488, 10) -> (-157.0864, 5.4325)
  line L24 (-172.572, 5.4325) -> (-170.3346, 5.4325)
  line L25 (-170.3346, 5.4325) -> (-168.6721, 10)
  line L26 (-166.4916, 10) -> (-164.8292, 5.4325)
  line L27 (-180.3148, 5.4325) -> (-178.0774, 5.4325)
  line L28 (-178.0774, 5.4325) -> (-176.4149, 10)
  line L29 (-174.2344, 10) -> (-172.572, 5.4325)
  line L30 (-188.0576, 5.4325) -> (-185.8202, 5.4325)
  line L31 (-185.8202, 5.4325) -> (-184.1577, 10)
  line L32 (-181.9772, 10) -> (-180.3148, 5.4325)
  line L33 (-195.8004, 5.4325) -> (-193.563, 5.4325)
  line L34 (-193.563, 5.4325) -> (-191.9005, 10)
  line L35 (-189.72, 10) -> (-188.0576, 5.4325)
  line L36 (-203.5432, 5.4325) -> (-201.3058, 5.4325)
  line L37 (-201.3058, 5.4325) -> (-199.6433, 10)
  line L38 (-197.4628, 10) -> (-195.8004, 5.4325)
  line L39 (-211.286, 5.4325) -> (-209.0486, 5.4325)
  line L40 (-209.0486, 5.4325) -> (-207.3861, 10)
  line L41 (-205.2056, 10) -> (-203.5432, 5.4325)
  line L42 (-219.0288, 5.4325) -> (-216.7914, 5.4325)
  line L43 (-216.7914, 5.4325) -> (-215.1289, 10)
  line L44 (-212.9484, 10) -> (-211.286, 5.4325)
  line L45 (-226.7716, 5.4325) -> (-224.5342, 5.4325)
  line L46 (-224.5342, 5.4325) -> (-222.8717, 10)
  line L47 (-220.6912, 10) -> (-219.0288, 5.4325)
  line L48 (-234.5144, 5.4325) -> (-232.277, 5.4325)
  line L49 (-232.277, 5.4325) -> (-230.6145, 10)
  line L50 (-228.434, 10) -> (-226.7716, 5.4325)
  line L51 (-242.2572, 5.4325) -> (-240.0198, 5.4325)
  line L52 (-240.0198, 5.4325) -> (-238.3573, 10)
  line L53 (-236.1768, 10) -> (-234.5144, 5.4325)
  line L54 (-250, 5.4325) -> (-247.7626, 5.4325)
  line L55 (-247.7626, 5.4325) -> (-246.1001, 10)
  line L56 (-243.9196, 10) -> (-242.2572, 5.4325)
  line L57 (-250, 5.4325) -> (-250, 10)
  line L58 (-250, -10) -> (-250, 0) projected
  line L59 (-2.2304, 5.4325) -> (0, 5.4325)
  line L60 (-9.9732, 5.4325) -> (-7.7358, 5.4325)
  line L61 (-7.7358, 5.4325) -> (-6.0734, 10)
  line L62 (-3.8928, 10) -> (-2.2304, 5.4325)
  line L63 (-17.716, 5.4325) -> (-15.4786, 5.4325)
  line L64 (-15.4786, 5.4325) -> (-13.8162, 10)
  line L65 (-11.6356, 10) -> (-9.9732, 5.4325)
  line L66 (-25.4588, 5.4325) -> (-23.2214, 5.4325)
  line L67 (-23.2214, 5.4325) -> (-21.559, 10)
  line L68 (-19.3784, 10) -> (-17.716, 5.4325)
  line L69 (-33.2016, 5.4325) -> (-30.9642, 5.4325)
  line L70 (-30.9642, 5.4325) -> (-29.3017, 10)
  line L71 (-27.1212, 10) -> (-25.4588, 5.4325)
  line L72 (-40.9444, 5.4325) -> (-38.707, 5.4325)
  line L73 (-38.707, 5.4325) -> (-37.0446, 10)
  line L74 (-34.864, 10) -> (-33.2016, 5.4325)
  line L75 (-48.6872, 5.4325) -> (-46.4498, 5.4325)
  line L76 (-46.4498, 5.4325) -> (-44.7874, 10)
  line L77 (-42.6068, 10) -> (-40.9444, 5.4325)
  line L78 (-56.43, 5.4325) -> (-54.1926, 5.4325)
  line L79 (-54.1926, 5.4325) -> (-52.5302, 10)
  line L80 (-50.3496, 10) -> (-48.6872, 5.4325)
  line L81 (-64.1728, 5.4325) -> (-61.9354, 5.4325)
  line L82 (-61.9354, 5.4325) -> (-60.273, 10)
  line L83 (-58.0924, 10) -> (-56.43, 5.4325)
  line L84 (-71.9156, 5.4325) -> (-69.6782, 5.4325)
  line L85 (-69.6782, 5.4325) -> (-68.0157, 10)
  line L86 (-65.8352, 10) -> (-64.1728, 5.4325)
  line L87 (-79.6584, 5.4325) -> (-77.421, 5.4325)
  line L88 (-77.421, 5.4325) -> (-75.7585, 10)
  line L89 (-73.578, 10) -> (-71.9156, 5.4325)
  line L90 (-87.4012, 5.4325) -> (-85.1638, 5.4325)
  line L91 (-85.1638, 5.4325) -> (-83.5014, 10)
  line L92 (-81.3208, 10) -> (-79.6584, 5.4325)
  line L93 (-95.144, 5.4325) -> (-92.9066, 5.4325)
  line L94 (-92.9066, 5.4325) -> (-91.2442, 10)
  line L95 (-89.0636, 10) -> (-87.4012, 5.4325)
  line L96 (-102.8868, 5.4325) -> (-100.6494, 5.4325)
  line L97 (-100.6494, 5.4325) -> (-98.987, 10)
  line L98 (-96.8064, 10) -> (-95.144, 5.4325)
  line L99 (-3.8928, 10) -> (0.007, 10)
  line L100 (-11.6356, 10) -> (-6.0734, 10)
  line L101 (-19.3784, 10) -> (-13.8162, 10)
  line L102 (-27.1212, 10) -> (-21.559, 10)
  line L103 (-34.864, 10) -> (-29.3017, 10)
  line L104 (-42.6068, 10) -> (-37.0446, 10)
  line L105 (-50.3496, 10) -> (-44.7874, 10)
  line L106 (-58.0924, 10) -> (-52.5302, 10)
  line L107 (-81.3208, 10) -> (-75.7585, 10)
  line L108 (-89.0636, 10) -> (-83.5014, 10)
  line L109 (-96.8064, 10) -> (-91.2442, 10)
  line L110 (-104.5492, 10) -> (-98.987, 10)
  line L111 (-112.292, 10) -> (-106.7297, 10)
  line L112 (-120.0348, 10) -> (-114.4725, 10)
  line L113 (-127.7776, 10) -> (-122.2153, 10)
  line L114 (-135.5204, 10) -> (-129.9581, 10)
  line L115 (-143.2632, 10) -> (-137.7009, 10)
  line L116 (-151.006, 10) -> (-145.4437, 10)
  line L117 (-158.7488, 10) -> (-153.1865, 10)
  line L118 (-166.4916, 10) -> (-160.9293, 10)
  line L119 (-174.2344, 10) -> (-168.6721, 10)
  line L120 (-181.9772, 10) -> (-176.4149, 10)
  line L121 (-189.72, 10) -> (-184.1577, 10)
  line L122 (-197.4628, 10) -> (-191.9005, 10)
  line L123 (-205.2056, 10) -> (-199.6433, 10)
  line L124 (-212.9484, 10) -> (-207.3861, 10)
  line L125 (-220.6912, 10) -> (-215.1289, 10)
  line L126 (-228.434, 10) -> (-222.8717, 10)
  line L127 (-236.1768, 10) -> (-230.6145, 10)
  line L128 (-250, 10) -> (-246.1001, 10)
  line L129 (-243.9196, 10) -> (-238.3573, 10)
  line L130 (-73.578, 10) -> (-68.0157, 10)
  line L131 (-65.8352, 10) -> (-60.273, 10)
  line L132 (-100.6494, 5.4325) -> (-98.987, 10)
  line L133 (-102.8868, 5.4325) -> (-100.6494, 5.4325)
  line L134 (-104.5492, 10) -> (-102.8868, 5.4325)
  line L135 (-104.5492, 10) -> (-98.987, 10)
  line L136 (-250, 10) -> (-246.1001, 10)
  line L137 (-246.1001, 10) -> (-247.7626, 5.4325)
  line L138 (-250, 5.4325) -> (-250, 10)
  line L139 (0, 10) -> (-250, 10) projected
  line L140 (0, 10) -> (0, 5.4325)
  line L141 (0, 10) -> (0, 0) projected
  line L142 (0, 10) -> (-3.8928, 10)
  line L143 (-2.2304, 5.4325) -> (0, 5.4325)
  point P0 (0, -10)
extrude "Extrusión6" cut sketch "Boceto8" against normal blind 10
properties part number "cremallera"
